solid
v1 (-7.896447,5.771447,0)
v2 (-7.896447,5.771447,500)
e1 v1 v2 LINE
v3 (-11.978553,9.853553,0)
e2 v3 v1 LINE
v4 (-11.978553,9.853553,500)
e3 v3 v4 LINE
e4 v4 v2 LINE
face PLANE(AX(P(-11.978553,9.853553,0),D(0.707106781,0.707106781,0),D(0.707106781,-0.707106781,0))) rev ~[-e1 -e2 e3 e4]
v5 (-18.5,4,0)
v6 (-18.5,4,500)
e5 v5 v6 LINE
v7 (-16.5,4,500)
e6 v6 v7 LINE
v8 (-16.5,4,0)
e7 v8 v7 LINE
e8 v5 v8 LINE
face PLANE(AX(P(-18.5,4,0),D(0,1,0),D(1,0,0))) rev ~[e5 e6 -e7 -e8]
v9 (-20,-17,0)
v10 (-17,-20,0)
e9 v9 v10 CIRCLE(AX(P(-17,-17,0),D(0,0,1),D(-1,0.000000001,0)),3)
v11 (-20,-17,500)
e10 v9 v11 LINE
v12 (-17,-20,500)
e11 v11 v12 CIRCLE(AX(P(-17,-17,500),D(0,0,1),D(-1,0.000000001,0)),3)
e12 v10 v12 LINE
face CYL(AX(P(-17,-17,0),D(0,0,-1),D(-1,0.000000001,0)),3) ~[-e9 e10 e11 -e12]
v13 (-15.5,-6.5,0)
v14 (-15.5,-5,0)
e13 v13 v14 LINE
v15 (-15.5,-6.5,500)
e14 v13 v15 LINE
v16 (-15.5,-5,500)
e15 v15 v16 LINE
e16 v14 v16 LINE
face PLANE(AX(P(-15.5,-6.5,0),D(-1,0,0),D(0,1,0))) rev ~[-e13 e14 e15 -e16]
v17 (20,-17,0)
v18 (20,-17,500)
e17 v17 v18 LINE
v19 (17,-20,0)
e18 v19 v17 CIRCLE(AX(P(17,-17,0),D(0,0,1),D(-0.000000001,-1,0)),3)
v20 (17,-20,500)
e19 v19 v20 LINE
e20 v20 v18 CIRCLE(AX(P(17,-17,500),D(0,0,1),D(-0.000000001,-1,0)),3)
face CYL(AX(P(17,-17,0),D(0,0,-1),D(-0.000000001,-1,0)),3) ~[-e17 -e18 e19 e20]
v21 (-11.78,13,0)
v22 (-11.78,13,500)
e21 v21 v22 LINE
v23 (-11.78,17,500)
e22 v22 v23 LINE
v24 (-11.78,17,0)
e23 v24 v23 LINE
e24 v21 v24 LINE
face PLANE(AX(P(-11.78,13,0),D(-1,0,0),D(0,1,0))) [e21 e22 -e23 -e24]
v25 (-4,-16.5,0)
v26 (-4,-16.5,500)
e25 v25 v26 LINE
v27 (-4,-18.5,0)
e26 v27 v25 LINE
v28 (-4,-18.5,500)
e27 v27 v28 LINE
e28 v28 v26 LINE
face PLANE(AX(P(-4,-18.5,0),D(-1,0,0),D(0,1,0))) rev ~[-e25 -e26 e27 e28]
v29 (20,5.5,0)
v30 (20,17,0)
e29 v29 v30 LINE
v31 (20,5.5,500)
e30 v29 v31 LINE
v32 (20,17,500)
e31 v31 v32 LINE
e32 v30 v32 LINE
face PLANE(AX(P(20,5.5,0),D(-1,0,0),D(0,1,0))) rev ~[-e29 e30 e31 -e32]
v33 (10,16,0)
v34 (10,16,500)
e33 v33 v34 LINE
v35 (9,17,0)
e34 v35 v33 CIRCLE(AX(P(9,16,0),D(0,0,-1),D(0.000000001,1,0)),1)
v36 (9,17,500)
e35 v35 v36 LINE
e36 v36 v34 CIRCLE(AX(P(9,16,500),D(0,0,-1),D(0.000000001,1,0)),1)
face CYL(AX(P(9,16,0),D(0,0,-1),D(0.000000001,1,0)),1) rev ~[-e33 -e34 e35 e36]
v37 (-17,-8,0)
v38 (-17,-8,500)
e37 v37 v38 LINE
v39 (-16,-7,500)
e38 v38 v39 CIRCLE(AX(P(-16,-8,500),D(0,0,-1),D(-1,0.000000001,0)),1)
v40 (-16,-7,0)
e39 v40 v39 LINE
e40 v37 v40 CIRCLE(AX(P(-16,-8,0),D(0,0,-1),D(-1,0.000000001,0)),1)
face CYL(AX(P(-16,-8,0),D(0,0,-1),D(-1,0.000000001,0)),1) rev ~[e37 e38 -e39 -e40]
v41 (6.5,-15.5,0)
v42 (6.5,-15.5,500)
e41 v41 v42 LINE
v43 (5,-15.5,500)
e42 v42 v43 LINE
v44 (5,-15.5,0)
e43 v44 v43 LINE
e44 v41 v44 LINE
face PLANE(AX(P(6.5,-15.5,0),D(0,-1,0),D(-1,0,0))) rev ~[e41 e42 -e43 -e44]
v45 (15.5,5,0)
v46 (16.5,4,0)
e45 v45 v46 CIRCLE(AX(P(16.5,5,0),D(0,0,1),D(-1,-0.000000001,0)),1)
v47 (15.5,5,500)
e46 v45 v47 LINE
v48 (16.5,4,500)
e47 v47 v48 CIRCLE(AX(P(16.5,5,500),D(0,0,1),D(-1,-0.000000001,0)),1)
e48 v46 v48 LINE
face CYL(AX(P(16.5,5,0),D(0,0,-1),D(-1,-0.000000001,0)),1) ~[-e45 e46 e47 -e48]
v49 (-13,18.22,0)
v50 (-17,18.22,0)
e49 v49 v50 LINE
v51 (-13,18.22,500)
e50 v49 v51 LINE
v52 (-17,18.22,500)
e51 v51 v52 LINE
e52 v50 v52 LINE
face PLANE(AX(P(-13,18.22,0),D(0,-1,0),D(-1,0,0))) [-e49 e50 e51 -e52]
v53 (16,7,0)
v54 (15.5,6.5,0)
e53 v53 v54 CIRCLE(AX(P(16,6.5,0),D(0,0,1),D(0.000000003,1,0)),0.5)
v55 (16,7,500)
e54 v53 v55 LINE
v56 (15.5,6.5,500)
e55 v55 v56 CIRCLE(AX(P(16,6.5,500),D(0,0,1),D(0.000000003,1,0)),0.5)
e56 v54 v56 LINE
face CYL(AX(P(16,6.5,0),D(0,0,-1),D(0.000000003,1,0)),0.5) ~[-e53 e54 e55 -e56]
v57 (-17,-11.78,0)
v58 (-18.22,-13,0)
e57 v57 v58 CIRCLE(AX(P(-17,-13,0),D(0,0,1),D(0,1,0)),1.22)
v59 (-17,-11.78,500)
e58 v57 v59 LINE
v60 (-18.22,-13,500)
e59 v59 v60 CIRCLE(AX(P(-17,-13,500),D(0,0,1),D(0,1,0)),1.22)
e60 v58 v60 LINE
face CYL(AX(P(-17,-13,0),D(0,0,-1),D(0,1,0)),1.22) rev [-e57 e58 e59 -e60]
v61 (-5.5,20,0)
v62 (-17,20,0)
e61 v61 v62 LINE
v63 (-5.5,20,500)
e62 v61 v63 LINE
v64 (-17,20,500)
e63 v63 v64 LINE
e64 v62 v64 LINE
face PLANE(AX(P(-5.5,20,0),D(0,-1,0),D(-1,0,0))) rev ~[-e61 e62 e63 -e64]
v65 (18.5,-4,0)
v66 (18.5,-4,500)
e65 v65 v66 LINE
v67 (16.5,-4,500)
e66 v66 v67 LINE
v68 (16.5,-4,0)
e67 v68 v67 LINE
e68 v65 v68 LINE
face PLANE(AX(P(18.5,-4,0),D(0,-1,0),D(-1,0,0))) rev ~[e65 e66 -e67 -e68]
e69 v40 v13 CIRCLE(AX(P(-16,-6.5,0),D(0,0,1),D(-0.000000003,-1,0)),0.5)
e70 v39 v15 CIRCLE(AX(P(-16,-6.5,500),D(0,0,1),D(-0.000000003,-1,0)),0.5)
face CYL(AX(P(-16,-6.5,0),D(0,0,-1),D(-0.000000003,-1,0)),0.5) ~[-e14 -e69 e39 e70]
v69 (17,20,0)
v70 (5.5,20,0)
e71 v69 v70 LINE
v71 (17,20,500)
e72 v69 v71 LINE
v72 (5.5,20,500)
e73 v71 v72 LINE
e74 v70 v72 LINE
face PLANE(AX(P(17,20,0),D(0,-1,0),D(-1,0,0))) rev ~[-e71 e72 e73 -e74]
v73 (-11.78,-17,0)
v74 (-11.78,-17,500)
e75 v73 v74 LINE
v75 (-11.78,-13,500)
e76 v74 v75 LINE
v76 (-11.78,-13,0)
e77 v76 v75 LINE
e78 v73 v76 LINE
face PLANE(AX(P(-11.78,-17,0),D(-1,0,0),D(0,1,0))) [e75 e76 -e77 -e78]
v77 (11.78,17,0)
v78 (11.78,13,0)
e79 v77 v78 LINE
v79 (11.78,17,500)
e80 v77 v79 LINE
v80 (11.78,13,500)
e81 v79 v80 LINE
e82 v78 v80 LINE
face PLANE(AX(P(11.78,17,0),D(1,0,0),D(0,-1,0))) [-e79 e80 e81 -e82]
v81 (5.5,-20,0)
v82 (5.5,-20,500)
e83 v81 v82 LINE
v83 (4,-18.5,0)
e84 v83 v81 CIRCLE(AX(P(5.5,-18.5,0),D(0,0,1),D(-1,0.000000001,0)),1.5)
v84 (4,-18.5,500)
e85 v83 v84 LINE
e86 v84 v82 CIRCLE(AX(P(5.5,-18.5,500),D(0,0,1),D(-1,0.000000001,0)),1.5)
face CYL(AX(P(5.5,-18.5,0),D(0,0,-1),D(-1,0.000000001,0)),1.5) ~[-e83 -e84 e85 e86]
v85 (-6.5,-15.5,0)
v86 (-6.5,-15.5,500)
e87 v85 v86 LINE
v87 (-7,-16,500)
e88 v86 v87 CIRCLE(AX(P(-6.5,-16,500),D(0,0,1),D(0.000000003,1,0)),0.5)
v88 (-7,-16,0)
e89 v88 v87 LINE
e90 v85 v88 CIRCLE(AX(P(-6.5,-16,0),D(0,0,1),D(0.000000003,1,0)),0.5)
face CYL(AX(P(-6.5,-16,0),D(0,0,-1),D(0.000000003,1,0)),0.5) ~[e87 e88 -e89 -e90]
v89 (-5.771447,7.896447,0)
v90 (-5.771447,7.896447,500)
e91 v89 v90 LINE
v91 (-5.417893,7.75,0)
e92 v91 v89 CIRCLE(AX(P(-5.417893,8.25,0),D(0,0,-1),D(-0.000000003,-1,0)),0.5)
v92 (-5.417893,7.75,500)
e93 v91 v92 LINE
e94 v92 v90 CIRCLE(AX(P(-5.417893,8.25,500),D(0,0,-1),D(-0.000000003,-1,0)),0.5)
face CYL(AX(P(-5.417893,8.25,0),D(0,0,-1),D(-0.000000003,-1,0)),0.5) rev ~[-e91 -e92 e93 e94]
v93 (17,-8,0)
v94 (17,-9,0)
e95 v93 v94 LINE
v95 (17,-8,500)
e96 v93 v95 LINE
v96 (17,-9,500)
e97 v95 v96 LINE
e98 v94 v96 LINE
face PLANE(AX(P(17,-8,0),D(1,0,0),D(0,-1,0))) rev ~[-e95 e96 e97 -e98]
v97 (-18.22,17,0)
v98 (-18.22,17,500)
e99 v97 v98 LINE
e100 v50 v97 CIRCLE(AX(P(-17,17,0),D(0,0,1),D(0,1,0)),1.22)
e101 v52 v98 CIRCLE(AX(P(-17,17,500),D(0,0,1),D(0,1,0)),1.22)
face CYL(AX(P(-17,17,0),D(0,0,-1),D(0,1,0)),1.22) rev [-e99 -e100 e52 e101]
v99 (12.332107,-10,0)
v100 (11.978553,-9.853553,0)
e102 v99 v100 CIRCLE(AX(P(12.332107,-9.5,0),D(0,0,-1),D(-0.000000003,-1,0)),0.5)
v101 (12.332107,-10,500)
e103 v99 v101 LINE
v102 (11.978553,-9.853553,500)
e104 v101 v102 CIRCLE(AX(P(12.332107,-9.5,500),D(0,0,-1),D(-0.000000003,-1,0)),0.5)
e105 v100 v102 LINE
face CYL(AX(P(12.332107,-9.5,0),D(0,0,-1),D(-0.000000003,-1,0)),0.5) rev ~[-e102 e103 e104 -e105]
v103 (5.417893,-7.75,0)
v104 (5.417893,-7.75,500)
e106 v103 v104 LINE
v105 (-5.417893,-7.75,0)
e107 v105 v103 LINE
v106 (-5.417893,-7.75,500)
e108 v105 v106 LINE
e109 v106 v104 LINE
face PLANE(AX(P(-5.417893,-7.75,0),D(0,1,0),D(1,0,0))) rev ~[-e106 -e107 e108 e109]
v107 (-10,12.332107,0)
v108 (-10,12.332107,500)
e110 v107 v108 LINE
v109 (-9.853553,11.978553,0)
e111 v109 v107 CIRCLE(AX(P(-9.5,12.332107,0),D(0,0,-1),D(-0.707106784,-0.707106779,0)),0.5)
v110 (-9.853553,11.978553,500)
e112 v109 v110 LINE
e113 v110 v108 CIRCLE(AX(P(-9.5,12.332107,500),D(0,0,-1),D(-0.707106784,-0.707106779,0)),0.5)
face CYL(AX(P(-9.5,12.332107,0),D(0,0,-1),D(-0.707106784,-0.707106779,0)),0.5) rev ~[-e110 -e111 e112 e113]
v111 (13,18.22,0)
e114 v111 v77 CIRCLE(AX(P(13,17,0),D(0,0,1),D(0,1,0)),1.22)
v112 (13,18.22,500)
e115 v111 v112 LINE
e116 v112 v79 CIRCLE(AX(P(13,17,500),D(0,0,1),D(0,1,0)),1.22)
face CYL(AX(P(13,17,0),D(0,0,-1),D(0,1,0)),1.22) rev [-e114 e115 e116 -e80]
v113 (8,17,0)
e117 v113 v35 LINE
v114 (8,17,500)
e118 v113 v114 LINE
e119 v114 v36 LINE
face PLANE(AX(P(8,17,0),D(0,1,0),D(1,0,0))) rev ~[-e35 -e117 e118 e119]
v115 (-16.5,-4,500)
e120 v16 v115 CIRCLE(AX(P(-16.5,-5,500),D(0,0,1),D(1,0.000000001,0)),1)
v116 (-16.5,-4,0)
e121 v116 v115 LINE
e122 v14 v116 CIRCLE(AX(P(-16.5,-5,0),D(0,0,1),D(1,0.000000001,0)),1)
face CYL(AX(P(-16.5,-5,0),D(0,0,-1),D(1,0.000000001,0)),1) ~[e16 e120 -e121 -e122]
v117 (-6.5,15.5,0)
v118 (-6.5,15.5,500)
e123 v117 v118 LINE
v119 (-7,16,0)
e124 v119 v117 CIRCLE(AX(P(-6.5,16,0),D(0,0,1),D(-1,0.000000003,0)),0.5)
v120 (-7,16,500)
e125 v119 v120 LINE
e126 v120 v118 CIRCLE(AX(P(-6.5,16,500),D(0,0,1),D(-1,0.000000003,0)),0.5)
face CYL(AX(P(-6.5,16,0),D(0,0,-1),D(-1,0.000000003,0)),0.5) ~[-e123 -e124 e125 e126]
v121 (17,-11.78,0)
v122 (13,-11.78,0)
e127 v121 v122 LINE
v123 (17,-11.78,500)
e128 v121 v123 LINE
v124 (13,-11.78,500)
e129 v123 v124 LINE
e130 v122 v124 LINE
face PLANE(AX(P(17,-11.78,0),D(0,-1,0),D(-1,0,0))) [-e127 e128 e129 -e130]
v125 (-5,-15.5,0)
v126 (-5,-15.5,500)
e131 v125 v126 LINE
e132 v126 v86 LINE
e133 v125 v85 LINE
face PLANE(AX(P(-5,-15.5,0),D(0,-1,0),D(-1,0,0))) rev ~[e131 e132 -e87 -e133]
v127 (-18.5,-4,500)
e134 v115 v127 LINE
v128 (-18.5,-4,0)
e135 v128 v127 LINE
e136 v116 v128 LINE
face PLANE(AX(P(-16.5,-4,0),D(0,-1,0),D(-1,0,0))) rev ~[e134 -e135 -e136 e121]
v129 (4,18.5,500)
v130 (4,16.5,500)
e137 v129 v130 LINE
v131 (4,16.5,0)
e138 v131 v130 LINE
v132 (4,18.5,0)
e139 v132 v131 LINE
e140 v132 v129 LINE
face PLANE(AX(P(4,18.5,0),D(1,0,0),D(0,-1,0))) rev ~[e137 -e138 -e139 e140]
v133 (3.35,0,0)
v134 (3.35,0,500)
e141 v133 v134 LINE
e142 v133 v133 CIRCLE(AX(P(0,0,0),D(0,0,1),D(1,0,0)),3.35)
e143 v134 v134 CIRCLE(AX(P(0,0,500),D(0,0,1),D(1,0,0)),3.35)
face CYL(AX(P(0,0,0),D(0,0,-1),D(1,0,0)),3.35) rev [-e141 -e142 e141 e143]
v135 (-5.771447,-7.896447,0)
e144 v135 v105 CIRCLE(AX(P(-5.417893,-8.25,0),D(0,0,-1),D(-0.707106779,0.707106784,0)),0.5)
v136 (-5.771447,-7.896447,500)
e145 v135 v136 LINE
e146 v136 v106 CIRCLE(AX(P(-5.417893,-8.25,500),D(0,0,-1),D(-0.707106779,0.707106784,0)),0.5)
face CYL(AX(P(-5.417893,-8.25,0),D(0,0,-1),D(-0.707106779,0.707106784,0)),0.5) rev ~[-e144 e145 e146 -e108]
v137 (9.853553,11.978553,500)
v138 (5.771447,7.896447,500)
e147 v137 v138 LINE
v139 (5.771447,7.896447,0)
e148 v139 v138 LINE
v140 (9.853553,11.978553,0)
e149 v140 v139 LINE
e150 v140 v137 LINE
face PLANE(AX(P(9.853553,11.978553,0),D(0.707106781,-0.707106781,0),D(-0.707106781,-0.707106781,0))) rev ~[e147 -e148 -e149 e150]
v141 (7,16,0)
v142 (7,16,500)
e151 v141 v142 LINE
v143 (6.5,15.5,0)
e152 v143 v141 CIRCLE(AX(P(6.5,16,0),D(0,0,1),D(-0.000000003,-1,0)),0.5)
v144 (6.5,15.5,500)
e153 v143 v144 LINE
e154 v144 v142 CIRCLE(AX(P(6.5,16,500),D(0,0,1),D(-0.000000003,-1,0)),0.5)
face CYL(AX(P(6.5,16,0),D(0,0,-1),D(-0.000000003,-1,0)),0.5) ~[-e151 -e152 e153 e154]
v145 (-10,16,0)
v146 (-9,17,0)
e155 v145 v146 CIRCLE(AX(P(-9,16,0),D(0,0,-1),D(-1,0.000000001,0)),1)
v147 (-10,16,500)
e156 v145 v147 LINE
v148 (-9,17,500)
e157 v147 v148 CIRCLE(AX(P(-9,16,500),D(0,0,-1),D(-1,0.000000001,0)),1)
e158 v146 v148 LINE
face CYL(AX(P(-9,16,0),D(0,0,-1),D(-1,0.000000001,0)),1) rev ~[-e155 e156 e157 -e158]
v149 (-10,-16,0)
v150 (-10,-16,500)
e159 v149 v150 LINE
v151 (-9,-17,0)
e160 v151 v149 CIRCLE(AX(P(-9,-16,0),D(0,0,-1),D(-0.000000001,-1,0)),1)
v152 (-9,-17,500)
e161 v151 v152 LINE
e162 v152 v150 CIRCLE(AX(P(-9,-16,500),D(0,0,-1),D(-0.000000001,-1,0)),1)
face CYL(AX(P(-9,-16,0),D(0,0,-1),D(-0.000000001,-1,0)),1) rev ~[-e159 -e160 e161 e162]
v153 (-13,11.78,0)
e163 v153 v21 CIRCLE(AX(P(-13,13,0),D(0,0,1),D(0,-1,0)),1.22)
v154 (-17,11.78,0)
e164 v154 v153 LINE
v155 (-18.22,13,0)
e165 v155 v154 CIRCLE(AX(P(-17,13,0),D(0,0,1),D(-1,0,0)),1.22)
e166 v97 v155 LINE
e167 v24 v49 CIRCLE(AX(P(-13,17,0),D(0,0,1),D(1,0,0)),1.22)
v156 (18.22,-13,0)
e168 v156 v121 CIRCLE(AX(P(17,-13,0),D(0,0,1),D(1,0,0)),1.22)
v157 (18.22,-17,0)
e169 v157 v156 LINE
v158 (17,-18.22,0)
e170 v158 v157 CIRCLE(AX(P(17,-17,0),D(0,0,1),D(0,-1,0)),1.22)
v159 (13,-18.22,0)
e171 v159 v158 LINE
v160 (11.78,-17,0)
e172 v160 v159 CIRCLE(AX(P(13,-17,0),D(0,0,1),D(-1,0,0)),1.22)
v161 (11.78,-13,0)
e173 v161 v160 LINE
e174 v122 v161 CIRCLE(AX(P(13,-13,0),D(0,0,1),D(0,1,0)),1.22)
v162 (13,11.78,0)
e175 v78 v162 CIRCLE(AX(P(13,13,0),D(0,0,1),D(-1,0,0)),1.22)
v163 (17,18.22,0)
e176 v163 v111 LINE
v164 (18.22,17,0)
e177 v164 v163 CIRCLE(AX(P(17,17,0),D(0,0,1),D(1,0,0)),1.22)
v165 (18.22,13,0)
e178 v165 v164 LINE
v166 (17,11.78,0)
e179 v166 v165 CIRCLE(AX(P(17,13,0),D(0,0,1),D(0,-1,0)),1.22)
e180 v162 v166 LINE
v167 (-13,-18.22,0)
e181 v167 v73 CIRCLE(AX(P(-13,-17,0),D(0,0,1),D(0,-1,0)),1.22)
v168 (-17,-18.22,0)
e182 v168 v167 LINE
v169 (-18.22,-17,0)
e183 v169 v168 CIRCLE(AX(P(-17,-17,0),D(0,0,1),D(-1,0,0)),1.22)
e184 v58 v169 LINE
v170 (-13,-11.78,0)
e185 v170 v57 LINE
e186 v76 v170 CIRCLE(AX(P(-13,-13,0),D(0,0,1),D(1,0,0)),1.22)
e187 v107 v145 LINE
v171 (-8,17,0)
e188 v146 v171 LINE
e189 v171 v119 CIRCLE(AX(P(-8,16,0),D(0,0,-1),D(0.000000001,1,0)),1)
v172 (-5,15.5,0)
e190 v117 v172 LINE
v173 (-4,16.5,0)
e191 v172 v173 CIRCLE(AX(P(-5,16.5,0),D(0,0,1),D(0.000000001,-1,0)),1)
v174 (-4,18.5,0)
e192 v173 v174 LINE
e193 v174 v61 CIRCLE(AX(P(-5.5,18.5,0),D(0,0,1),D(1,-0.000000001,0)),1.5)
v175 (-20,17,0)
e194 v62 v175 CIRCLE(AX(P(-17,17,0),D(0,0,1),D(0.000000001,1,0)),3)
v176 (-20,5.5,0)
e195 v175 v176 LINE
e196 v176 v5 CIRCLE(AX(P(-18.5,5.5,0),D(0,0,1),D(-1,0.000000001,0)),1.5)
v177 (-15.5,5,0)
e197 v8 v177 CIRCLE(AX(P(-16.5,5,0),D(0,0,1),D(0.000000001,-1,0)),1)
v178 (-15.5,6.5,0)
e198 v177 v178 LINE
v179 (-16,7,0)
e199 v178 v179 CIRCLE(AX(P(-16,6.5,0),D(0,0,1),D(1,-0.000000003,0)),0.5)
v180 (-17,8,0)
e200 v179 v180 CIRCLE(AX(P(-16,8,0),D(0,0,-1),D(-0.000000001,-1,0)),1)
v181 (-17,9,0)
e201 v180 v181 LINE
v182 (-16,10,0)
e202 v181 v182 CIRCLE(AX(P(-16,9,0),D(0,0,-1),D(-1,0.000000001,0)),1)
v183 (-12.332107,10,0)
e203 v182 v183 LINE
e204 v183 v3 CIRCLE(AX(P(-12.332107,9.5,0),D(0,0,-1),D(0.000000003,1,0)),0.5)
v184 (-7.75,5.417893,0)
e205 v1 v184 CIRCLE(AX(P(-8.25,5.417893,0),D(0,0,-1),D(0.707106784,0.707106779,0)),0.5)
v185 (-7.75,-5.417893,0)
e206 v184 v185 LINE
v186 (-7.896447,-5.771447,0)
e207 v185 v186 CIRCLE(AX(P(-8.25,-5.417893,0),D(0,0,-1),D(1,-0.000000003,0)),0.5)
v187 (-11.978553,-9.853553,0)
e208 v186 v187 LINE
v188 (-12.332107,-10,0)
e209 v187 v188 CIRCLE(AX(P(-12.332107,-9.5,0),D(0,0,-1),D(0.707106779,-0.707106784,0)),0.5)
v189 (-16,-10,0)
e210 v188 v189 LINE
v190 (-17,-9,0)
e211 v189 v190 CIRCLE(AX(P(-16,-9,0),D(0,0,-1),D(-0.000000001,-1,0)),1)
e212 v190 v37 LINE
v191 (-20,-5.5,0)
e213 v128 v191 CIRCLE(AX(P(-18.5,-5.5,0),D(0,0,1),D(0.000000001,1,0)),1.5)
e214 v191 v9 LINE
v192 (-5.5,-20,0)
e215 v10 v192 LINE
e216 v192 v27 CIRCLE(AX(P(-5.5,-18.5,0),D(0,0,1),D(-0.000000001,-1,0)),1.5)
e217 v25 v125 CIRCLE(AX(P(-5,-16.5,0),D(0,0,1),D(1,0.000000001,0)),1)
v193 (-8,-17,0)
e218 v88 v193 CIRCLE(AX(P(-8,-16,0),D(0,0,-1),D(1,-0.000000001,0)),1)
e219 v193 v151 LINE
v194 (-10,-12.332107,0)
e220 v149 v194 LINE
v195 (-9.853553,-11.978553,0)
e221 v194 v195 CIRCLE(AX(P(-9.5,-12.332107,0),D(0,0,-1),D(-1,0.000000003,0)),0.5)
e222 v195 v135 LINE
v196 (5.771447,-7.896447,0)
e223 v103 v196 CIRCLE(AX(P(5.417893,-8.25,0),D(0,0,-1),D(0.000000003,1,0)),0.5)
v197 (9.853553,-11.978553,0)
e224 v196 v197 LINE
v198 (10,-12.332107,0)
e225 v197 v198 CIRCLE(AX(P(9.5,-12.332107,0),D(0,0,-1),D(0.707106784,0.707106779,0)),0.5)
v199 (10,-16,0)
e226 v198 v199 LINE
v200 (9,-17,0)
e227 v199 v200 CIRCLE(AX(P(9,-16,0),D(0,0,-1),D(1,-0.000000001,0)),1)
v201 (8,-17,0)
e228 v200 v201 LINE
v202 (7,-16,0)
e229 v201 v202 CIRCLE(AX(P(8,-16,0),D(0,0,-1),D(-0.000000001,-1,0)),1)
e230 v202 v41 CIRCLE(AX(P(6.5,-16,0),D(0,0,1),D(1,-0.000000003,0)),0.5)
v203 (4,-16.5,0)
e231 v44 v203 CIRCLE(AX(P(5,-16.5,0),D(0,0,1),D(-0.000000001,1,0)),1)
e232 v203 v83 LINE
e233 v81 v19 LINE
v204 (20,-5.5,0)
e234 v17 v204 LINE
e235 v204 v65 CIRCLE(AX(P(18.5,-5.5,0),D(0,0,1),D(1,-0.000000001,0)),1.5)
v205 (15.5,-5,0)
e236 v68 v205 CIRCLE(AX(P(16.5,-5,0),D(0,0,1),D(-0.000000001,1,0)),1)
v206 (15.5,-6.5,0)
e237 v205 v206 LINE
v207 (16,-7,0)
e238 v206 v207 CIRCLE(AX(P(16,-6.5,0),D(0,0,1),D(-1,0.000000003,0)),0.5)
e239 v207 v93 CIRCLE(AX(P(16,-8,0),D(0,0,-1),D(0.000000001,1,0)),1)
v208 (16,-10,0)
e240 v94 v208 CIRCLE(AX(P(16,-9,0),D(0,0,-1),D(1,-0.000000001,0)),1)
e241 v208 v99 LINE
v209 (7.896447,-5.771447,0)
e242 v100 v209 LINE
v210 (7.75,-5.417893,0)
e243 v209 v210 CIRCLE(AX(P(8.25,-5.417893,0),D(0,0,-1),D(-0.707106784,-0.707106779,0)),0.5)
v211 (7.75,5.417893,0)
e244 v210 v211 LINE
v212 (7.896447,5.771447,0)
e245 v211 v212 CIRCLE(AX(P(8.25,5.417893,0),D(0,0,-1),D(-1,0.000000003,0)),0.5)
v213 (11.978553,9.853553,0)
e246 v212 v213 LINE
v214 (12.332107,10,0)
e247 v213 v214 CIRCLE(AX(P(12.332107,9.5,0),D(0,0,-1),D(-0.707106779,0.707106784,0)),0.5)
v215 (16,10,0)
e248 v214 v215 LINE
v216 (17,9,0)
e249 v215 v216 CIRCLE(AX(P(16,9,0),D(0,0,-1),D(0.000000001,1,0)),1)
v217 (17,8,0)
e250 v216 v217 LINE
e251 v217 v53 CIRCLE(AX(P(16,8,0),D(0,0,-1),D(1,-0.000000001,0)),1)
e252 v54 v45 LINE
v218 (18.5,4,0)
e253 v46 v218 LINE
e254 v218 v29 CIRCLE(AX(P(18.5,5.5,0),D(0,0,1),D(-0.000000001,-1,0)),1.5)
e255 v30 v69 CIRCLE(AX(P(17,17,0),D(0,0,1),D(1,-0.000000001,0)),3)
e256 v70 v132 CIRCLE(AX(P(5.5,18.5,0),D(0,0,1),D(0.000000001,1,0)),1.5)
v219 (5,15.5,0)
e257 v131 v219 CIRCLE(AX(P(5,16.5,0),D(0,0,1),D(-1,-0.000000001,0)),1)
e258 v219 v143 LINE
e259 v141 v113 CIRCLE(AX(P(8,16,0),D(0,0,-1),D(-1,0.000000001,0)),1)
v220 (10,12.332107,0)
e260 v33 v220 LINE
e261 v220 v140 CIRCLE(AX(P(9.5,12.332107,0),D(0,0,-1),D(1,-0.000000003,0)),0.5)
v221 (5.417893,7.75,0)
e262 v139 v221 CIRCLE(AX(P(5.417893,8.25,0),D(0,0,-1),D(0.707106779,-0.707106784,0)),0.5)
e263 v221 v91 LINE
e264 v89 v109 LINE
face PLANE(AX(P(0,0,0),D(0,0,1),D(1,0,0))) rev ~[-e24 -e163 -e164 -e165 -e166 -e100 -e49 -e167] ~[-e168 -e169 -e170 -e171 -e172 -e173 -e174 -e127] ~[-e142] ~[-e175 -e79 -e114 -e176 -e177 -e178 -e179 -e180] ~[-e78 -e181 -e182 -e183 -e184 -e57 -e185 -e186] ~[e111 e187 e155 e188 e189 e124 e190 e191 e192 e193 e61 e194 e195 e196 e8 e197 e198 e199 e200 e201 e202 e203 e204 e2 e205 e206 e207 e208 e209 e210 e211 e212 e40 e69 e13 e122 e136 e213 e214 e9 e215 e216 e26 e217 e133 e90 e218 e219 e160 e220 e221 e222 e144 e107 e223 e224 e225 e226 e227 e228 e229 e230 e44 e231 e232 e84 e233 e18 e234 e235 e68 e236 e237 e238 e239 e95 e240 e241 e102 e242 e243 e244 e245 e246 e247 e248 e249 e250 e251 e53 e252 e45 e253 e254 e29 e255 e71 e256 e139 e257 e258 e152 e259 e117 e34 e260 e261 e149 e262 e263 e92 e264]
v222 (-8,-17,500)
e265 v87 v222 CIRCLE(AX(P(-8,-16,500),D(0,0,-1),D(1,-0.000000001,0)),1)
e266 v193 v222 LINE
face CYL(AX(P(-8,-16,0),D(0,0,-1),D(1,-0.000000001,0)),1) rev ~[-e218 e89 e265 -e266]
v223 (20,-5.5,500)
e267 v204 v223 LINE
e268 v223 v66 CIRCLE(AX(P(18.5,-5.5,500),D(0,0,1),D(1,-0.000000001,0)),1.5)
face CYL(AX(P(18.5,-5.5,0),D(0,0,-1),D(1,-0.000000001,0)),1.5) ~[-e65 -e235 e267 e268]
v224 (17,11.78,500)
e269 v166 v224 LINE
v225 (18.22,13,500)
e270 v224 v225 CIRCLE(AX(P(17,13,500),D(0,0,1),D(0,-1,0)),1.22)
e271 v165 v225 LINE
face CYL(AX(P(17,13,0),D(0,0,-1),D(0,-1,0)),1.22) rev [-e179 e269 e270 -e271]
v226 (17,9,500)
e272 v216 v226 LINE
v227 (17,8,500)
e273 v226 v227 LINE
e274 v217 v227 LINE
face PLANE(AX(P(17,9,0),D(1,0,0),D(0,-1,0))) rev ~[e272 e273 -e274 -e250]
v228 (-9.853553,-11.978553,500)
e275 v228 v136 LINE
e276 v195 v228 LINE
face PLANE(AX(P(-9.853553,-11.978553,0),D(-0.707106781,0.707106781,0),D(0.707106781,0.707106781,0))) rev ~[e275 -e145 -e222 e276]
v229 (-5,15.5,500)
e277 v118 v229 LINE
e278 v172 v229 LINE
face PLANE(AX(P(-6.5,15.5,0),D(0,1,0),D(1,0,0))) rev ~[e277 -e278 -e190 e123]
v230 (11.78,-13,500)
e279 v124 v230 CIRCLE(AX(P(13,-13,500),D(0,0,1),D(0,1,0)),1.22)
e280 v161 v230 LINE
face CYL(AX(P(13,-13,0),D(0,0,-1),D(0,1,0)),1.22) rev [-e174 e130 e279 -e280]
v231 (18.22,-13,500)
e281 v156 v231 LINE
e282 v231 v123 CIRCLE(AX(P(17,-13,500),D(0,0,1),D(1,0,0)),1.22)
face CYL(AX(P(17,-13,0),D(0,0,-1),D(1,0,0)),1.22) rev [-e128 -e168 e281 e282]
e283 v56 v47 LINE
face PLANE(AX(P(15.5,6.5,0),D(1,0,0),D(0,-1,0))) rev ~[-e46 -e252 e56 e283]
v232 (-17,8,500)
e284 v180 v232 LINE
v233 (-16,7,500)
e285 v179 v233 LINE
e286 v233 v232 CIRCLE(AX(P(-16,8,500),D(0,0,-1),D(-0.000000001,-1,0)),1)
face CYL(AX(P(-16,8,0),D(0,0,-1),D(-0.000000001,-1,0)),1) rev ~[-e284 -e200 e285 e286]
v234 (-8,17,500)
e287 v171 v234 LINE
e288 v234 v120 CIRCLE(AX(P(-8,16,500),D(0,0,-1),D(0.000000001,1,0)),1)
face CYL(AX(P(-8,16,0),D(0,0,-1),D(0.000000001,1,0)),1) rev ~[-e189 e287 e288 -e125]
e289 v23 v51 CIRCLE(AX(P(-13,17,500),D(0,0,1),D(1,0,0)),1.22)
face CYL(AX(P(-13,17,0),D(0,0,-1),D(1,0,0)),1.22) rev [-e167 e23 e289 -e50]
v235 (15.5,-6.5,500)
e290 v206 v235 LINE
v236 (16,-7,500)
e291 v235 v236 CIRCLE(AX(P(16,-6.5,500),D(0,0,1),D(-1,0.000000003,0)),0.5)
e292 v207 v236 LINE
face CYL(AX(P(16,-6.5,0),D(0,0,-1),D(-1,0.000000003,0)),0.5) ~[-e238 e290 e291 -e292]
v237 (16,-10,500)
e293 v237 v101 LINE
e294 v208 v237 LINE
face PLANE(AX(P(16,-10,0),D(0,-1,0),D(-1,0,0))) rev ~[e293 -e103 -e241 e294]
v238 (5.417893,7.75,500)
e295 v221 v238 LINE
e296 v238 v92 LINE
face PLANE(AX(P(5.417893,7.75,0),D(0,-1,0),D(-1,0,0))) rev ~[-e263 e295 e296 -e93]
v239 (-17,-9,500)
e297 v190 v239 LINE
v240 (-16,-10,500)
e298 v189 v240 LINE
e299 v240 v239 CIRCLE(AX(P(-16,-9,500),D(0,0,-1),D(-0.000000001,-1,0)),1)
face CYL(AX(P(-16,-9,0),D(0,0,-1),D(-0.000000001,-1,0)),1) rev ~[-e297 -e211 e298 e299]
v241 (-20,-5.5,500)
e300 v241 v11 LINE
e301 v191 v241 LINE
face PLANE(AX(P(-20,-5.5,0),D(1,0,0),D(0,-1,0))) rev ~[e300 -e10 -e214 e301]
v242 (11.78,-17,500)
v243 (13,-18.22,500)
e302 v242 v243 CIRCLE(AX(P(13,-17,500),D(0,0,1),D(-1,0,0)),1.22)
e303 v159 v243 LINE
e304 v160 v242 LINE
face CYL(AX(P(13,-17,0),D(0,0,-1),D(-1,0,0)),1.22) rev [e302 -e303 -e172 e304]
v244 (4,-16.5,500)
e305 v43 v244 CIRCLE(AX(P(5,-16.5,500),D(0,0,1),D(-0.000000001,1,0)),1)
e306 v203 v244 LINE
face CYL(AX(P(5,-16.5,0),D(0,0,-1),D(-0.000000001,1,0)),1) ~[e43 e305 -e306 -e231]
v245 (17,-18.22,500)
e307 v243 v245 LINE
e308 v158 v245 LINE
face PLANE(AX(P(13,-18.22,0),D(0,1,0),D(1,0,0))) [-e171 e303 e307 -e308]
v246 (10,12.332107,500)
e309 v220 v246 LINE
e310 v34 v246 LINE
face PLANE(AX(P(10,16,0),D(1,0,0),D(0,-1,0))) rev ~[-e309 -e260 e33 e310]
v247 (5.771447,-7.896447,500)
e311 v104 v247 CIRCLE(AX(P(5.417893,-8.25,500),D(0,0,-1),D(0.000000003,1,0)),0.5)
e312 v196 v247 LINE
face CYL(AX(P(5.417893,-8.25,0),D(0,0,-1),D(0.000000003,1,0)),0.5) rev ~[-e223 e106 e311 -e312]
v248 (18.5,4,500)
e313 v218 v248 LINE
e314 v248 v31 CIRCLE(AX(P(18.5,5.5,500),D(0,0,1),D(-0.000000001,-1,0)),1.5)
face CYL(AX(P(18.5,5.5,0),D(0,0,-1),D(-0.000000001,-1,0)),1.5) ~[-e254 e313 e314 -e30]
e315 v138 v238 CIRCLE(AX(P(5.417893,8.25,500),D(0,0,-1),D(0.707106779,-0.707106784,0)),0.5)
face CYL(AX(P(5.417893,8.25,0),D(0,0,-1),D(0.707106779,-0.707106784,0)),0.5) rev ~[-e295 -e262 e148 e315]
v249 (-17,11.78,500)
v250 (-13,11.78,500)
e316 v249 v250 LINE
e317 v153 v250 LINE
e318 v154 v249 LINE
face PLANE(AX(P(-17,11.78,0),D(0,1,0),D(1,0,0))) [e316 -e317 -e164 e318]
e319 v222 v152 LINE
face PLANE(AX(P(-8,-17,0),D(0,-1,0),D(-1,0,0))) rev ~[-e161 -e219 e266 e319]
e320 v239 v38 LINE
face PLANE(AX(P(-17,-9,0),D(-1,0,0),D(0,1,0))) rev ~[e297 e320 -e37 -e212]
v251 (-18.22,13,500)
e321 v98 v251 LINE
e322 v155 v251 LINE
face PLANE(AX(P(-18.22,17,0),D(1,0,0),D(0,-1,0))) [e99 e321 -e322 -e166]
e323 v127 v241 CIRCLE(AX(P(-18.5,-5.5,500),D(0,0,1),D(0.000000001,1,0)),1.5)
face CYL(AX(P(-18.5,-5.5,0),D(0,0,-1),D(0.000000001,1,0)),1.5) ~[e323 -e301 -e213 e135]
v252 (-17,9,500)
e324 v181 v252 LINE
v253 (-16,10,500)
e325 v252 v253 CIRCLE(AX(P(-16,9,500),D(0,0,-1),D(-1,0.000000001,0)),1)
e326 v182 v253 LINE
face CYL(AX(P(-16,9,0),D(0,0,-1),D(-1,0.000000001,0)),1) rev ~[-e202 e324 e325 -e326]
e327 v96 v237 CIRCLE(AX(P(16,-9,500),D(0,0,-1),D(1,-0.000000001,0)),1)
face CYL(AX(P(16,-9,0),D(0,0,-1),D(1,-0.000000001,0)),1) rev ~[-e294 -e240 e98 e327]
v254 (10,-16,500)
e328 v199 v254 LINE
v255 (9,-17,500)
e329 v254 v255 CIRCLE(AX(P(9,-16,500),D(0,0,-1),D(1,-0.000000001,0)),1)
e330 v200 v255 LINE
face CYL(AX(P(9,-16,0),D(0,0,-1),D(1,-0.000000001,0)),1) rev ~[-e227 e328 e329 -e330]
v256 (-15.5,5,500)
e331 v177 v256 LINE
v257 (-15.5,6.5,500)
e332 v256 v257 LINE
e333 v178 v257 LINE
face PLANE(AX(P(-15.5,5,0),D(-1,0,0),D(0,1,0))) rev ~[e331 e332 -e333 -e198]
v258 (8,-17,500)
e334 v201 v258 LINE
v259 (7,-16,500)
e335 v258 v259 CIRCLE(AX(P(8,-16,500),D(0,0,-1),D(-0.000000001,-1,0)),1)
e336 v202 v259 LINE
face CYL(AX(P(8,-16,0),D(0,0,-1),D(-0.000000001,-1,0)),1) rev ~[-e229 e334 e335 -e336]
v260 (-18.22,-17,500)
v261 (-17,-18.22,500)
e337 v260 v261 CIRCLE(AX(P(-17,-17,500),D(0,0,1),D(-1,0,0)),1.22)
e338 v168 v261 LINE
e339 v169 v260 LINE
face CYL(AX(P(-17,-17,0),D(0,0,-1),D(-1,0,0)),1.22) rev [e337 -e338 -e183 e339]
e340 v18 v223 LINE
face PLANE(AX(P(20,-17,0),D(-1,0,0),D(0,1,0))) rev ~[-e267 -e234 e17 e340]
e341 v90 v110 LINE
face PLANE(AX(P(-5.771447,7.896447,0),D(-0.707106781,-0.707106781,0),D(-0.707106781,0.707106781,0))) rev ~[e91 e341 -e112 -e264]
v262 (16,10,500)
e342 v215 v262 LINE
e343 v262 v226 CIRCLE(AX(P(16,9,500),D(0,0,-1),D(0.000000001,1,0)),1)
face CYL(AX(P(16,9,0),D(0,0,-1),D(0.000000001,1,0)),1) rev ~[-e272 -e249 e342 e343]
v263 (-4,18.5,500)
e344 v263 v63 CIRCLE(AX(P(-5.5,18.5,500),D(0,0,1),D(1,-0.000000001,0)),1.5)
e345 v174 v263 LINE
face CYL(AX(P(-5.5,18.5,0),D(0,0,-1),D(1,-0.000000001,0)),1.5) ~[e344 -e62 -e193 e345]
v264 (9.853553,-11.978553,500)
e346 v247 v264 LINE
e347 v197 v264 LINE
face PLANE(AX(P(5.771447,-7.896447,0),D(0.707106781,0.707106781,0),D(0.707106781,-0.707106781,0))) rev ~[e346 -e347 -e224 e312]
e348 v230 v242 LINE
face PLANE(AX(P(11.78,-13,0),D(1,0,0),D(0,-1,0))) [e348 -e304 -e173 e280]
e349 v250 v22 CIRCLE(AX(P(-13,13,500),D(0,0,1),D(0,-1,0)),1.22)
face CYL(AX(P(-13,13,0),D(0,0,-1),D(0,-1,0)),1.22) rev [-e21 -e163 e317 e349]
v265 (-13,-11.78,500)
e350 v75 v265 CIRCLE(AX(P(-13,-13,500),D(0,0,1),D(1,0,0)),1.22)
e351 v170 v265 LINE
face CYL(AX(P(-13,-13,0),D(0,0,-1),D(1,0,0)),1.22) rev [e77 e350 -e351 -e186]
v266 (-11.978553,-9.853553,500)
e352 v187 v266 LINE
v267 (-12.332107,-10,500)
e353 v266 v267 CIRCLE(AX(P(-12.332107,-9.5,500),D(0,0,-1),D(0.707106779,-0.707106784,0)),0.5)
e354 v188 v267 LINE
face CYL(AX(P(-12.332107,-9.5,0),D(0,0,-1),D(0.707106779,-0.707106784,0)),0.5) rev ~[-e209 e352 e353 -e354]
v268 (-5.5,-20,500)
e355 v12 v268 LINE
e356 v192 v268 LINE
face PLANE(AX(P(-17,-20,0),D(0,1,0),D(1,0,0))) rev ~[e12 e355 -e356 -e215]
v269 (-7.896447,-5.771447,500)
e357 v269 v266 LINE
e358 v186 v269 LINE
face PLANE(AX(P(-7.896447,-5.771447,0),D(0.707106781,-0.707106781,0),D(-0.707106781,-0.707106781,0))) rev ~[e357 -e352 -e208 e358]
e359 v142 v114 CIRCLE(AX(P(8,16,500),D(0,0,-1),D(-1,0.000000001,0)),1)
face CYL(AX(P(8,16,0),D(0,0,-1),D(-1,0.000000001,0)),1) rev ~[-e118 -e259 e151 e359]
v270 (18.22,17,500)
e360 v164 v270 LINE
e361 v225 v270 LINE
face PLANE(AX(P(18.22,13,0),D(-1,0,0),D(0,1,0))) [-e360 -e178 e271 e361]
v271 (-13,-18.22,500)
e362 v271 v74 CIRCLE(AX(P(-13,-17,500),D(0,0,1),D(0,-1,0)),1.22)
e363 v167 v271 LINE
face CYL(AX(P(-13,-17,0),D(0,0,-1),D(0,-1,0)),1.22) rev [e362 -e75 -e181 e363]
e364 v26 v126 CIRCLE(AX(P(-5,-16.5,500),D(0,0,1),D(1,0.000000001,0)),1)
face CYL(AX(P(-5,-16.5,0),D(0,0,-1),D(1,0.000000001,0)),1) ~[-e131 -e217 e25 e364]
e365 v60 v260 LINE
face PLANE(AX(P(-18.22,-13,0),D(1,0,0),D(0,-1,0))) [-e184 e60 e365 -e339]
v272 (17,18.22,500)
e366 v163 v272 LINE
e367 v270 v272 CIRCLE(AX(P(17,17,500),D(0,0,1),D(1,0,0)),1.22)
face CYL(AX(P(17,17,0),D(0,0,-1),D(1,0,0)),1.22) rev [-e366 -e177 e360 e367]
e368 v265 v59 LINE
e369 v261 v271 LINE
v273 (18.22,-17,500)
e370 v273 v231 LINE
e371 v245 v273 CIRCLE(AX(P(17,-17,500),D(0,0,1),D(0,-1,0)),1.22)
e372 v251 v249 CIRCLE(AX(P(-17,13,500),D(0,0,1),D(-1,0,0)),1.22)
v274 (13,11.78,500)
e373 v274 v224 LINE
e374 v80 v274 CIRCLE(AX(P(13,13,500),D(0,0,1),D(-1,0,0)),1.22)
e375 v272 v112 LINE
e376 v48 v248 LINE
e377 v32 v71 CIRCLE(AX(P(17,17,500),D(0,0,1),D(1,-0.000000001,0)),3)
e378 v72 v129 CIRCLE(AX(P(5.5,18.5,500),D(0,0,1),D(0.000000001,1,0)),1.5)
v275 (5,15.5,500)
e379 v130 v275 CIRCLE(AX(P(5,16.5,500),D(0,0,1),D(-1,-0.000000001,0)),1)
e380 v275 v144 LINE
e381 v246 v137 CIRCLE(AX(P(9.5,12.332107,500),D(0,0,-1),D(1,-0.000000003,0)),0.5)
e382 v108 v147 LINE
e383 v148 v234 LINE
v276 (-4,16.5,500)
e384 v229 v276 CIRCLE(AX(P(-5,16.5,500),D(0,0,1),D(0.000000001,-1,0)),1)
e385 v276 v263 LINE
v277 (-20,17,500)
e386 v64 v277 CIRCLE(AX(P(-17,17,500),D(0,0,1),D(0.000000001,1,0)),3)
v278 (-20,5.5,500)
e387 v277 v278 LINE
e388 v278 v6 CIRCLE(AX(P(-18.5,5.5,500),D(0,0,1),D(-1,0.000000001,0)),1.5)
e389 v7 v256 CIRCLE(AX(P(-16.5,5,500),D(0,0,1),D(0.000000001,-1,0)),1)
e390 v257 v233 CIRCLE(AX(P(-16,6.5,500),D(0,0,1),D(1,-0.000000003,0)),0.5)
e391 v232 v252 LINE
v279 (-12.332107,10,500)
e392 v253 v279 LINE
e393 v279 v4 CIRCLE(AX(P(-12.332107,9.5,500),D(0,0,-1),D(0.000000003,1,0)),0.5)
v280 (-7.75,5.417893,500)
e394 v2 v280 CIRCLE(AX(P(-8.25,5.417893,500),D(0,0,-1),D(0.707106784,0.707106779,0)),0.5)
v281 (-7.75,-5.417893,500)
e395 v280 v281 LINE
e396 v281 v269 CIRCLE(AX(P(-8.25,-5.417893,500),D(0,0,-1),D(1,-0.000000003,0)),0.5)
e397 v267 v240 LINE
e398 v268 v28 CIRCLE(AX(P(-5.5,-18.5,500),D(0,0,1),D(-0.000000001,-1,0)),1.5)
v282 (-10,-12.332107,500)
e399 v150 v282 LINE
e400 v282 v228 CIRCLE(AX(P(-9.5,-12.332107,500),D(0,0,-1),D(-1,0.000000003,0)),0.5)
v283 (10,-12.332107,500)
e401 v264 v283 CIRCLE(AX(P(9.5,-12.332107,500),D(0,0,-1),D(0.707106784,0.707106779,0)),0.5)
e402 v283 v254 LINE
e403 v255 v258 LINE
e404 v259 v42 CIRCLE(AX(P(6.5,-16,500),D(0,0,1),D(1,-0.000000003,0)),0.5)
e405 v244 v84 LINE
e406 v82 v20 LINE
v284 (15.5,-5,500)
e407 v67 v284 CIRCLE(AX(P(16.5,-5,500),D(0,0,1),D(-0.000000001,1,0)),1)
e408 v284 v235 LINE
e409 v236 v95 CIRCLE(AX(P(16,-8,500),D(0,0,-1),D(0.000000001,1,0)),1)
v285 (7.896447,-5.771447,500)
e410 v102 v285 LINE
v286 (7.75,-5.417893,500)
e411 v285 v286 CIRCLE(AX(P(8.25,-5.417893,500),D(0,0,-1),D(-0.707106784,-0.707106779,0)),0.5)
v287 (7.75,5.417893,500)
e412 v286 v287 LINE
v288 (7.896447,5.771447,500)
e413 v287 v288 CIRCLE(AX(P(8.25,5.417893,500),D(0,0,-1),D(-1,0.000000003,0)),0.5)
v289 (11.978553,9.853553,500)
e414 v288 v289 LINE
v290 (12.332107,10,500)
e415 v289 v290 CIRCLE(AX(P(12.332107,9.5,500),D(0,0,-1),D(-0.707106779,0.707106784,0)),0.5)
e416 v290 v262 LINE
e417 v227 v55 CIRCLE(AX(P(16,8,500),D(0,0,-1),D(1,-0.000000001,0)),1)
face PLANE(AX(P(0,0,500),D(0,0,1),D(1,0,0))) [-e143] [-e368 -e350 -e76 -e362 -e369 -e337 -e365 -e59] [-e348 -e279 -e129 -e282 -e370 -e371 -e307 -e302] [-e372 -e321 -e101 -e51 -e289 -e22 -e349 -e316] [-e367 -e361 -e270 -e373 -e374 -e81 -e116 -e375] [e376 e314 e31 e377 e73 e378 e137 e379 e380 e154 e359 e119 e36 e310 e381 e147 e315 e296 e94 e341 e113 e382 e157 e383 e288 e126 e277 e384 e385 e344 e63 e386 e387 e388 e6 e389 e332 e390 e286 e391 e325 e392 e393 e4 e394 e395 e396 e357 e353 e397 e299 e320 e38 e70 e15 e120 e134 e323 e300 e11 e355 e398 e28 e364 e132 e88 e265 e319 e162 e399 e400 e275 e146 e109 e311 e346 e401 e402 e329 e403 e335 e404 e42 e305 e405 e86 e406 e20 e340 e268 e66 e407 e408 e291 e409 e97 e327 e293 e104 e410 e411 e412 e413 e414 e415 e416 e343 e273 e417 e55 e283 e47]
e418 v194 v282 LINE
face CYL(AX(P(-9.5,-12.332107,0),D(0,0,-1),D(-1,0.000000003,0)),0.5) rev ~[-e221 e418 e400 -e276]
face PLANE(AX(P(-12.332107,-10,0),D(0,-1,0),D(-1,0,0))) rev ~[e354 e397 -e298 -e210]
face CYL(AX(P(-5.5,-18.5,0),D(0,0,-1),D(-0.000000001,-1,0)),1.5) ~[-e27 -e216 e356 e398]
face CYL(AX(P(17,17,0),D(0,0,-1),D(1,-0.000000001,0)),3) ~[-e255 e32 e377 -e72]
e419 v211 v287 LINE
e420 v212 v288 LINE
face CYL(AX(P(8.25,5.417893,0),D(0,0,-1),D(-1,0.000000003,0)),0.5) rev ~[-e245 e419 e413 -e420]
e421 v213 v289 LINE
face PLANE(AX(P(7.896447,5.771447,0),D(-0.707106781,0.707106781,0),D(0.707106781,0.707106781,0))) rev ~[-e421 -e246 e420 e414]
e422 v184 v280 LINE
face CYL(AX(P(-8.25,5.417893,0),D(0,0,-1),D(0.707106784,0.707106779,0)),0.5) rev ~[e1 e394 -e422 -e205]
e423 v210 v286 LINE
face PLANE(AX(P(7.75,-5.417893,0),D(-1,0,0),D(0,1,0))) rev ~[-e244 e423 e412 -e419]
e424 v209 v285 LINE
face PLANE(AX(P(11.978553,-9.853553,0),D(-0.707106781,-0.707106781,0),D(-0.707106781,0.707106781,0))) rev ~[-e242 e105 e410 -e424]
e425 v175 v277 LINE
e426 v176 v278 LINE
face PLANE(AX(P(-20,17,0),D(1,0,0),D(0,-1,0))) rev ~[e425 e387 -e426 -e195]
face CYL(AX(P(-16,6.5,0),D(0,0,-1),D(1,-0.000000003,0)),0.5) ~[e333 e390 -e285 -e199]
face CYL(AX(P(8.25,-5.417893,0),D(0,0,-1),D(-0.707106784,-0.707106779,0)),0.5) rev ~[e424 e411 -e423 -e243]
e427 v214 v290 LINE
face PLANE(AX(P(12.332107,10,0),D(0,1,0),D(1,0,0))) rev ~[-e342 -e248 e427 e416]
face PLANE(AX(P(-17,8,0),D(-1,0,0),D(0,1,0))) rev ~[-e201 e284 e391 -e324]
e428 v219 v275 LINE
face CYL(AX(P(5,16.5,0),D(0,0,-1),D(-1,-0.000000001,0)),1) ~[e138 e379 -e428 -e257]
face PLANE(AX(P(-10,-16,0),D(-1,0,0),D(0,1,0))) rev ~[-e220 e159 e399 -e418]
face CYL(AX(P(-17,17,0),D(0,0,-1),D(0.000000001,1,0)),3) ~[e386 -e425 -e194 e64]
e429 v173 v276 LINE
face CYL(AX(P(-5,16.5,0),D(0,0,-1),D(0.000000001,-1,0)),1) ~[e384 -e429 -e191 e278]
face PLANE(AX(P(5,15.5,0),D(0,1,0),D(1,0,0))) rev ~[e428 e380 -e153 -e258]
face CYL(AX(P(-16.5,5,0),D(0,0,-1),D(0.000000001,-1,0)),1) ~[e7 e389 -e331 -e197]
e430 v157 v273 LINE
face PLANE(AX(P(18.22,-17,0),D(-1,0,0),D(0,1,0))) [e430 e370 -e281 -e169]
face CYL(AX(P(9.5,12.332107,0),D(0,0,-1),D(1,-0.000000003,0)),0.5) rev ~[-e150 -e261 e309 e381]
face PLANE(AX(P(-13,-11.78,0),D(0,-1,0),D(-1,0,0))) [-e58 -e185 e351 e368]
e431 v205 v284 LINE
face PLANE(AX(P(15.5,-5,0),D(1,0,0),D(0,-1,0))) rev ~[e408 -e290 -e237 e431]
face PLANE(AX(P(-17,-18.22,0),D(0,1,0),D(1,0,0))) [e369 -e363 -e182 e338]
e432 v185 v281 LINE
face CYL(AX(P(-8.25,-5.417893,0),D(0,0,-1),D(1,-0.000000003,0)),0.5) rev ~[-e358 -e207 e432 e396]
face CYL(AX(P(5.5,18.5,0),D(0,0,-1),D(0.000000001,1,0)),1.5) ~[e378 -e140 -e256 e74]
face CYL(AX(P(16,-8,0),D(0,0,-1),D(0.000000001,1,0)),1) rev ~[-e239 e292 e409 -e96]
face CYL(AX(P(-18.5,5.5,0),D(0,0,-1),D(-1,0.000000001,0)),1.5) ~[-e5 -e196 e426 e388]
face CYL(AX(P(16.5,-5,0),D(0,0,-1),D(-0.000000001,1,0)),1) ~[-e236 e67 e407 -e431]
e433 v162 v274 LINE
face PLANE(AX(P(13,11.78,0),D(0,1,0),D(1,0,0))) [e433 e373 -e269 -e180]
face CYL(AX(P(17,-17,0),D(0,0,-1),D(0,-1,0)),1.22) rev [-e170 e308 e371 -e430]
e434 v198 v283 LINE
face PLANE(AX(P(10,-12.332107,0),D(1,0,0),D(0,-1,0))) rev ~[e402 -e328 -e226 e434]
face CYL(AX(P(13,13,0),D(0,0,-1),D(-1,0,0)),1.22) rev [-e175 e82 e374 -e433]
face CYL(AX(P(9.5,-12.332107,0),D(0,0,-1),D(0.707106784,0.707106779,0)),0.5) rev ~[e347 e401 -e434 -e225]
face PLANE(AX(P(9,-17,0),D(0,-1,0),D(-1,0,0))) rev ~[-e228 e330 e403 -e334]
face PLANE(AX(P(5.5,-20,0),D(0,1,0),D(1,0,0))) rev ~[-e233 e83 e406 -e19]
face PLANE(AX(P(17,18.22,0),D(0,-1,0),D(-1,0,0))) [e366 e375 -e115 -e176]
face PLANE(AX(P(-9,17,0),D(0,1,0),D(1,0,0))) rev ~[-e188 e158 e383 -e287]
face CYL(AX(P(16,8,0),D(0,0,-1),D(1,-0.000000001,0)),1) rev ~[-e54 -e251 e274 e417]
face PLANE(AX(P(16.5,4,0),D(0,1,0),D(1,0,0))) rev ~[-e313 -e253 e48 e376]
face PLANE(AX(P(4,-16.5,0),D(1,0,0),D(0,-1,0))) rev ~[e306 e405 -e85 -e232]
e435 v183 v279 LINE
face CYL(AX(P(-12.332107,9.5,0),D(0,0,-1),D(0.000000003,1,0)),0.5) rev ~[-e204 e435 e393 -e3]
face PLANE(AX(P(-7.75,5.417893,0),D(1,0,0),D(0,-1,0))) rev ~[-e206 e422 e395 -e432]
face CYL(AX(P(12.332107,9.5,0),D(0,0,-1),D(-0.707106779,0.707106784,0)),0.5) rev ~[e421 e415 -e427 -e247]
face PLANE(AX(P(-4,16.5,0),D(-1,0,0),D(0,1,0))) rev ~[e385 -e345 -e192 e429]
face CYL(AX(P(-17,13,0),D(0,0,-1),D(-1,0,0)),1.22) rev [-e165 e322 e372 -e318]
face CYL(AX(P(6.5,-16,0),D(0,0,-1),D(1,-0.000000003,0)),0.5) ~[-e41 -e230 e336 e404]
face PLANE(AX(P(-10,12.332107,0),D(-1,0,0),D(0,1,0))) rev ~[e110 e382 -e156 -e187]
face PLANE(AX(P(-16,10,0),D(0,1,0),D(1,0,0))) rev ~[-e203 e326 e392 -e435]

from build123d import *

# Parameters (mm, degrees)
SKETCH1_R           = 3.35
BOSS_EXTRUDE1_DEPTH = 500


with BuildPart() as part:
    # Sketch1 → Boss-Extrude1 (new body)
    with BuildSketch(Plane.XY):
        with BuildLine():
            Line((-9.853553391, -11.978553391), (-5.771446609, -7.896446609))
            ThreePointArc((-5.771446609, -7.896446609), (-5.609234935, -7.788060234), (-5.417893219, -7.75))
            Line((-5.417893219, -7.75), (5.417893219, -7.75))
            ThreePointArc((5.417893219, -7.75), (5.609234935, -7.788060234), (5.771446609, -7.896446609))
            Line((5.771446609, -7.896446609), (9.853553391, -11.978553391))
            ThreePointArc((9.853553391, -11.978553391), (9.961939766, -12.140765065), (10, -12.332106781))
            Line((10, -12.332106781), (10, -16))
            ThreePointArc((10, -16), (9.707106781, -16.707106781), (9, -17))
            Line((9, -17), (8, -17))
            ThreePointArc((8, -17), (7.292893219, -16.707106781), (7, -16))
            ThreePointArc((7, -16), (6.853553391, -15.646446609), (6.5, -15.5))
            Line((6.5, -15.5), (5, -15.5))
            ThreePointArc((5, -15.5), (4.292893219, -15.792893219), (4, -16.5))
            Line((4, -16.5), (4, -18.5))
            ThreePointArc((4, -18.5), (4.439339828, -19.560660172), (5.5, -20))
            Line((5.5, -20), (17, -20))
            ThreePointArc((17, -20), (19.121320344, -19.121320344), (20, -17))
            Line((20, -17), (20, -5.5))
            ThreePointArc((20, -5.5), (19.560660172, -4.439339828), (18.5, -4))
            Line((18.5, -4), (16.5, -4))
            ThreePointArc((16.5, -4), (15.792893219, -4.292893219), (15.5, -5))
            Line((15.5, -5), (15.5, -6.5))
            ThreePointArc((15.5, -6.5), (15.646446609, -6.853553391), (16, -7))
            ThreePointArc((16, -7), (16.707106781, -7.292893219), (17, -8))
            Line((17, -8), (17, -9))
            ThreePointArc((17, -9), (16.707106781, -9.707106781), (16, -10))
            Line((16, -10), (12.332106781, -10))
            ThreePointArc((12.332106781, -10), (12.140765065, -9.961939766), (11.978553391, -9.853553391))
            Line((11.978553391, -9.853553391), (7.896446609, -5.771446609))
            ThreePointArc((7.896446609, -5.771446609), (7.788060234, -5.609234935), (7.75, -5.417893219))
            Line((7.75, -5.417893219), (7.75, 5.417893219))
            ThreePointArc((7.75, 5.417893219), (7.788060234, 5.609234935), (7.896446609, 5.771446609))
            Line((7.896446609, 5.771446609), (11.978553391, 9.853553391))
            ThreePointArc((11.978553391, 9.853553391), (12.140765065, 9.961939766), (12.332106781, 10))
            Line((12.332106781, 10), (16, 10))
            ThreePointArc((16, 10), (16.707106781, 9.707106781), (17, 9))
            Line((17, 9), (17, 8))
            ThreePointArc((17, 8), (16.707106781, 7.292893219), (16, 7))
            ThreePointArc((16, 7), (15.646446609, 6.853553391), (15.5, 6.5))
            Line((15.5, 6.5), (15.5, 5))
            ThreePointArc((15.5, 5), (15.792893219, 4.292893219), (16.5, 4))
            Line((16.5, 4), (18.5, 4))
            ThreePointArc((18.5, 4), (19.560660172, 4.439339828), (20, 5.5))
            Line((20, 5.5), (20, 17))
            ThreePointArc((20, 17), (19.121320344, 19.121320344), (17, 20))
            Line((17, 20), (5.5, 20))
            ThreePointArc((5.5, 20), (4.439339828, 19.560660172), (4, 18.5))
            Line((4, 18.5), (4, 16.5))
            ThreePointArc((4, 16.5), (4.292893219, 15.792893219), (5, 15.5))
            Line((5, 15.5), (6.5, 15.5))
            ThreePointArc((6.5, 15.5), (6.853553391, 15.646446609), (7, 16))
            ThreePointArc((7, 16), (7.292893219, 16.707106781), (8, 17))
            Line((8, 17), (9, 17))
            ThreePointArc((9, 17), (9.707106781, 16.707106781), (10, 16))
            Line((10, 16), (10, 12.332106781))
            ThreePointArc((10, 12.332106781), (9.961939766, 12.140765065), (9.853553391, 11.978553391))
            Line((9.853553391, 11.978553391), (5.771446609, 7.896446609))
            ThreePointArc((5.771446609, 7.896446609), (5.609234935, 7.788060234), (5.417893219, 7.75))
            Line((5.417893219, 7.75), (-5.417893219, 7.75))
            ThreePointArc((-5.417893219, 7.75), (-5.609234935, 7.788060234), (-5.771446609, 7.896446609))
            Line((-5.771446609, 7.896446609), (-9.853553391, 11.978553391))
            ThreePointArc((-9.853553391, 11.978553391), (-9.961939766, 12.140765065), (-10, 12.332106781))
            Line((-10, 12.332106781), (-10, 16))
            ThreePointArc((-10, 16), (-9.707106781, 16.707106781), (-9, 17))
            Line((-9, 17), (-8, 17))
            ThreePointArc((-8, 17), (-7.292893219, 16.707106781), (-7, 16))
            ThreePointArc((-7, 16), (-6.853553391, 15.646446609), (-6.5, 15.5))
            Line((-6.5, 15.5), (-5, 15.5))
            ThreePointArc((-5, 15.5), (-4.292893219, 15.792893219), (-4, 16.5))
            Line((-4, 16.5), (-4, 18.5))
            ThreePointArc((-4, 18.5), (-4.439339828, 19.560660172), (-5.5, 20))
            Line((-5.5, 20), (-17, 20))
            ThreePointArc((-17, 20), (-19.121320344, 19.121320344), (-20, 17))
            Line((-20, 17), (-20, 5.5))
            ThreePointArc((-20, 5.5), (-19.560660172, 4.439339828), (-18.5, 4))
            Line((-18.5, 4), (-16.5, 4))
            ThreePointArc((-16.5, 4), (-15.792893219, 4.292893219), (-15.5, 5))
            Line((-15.5, 5), (-15.5, 6.5))
            ThreePointArc((-15.5, 6.5), (-15.646446609, 6.853553391), (-16, 7))
            ThreePointArc((-16, 7), (-16.707106781, 7.292893219), (-17, 8))
            Line((-17, 8), (-17, 9))
            ThreePointArc((-17, 9), (-16.707106781, 9.707106781), (-16, 10))
            Line((-16, 10), (-12.332106781, 10))
            ThreePointArc((-12.332106781, 10), (-12.140765065, 9.961939766), (-11.978553391, 9.853553391))
            Line((-11.978553391, 9.853553391), (-7.896446609, 5.771446609))
            ThreePointArc((-7.896446609, 5.771446609), (-7.788060234, 5.609234935), (-7.75, 5.417893219))
            Line((-7.75, 5.417893219), (-7.75, -5.417893219))
            ThreePointArc((-7.75, -5.417893219), (-7.788060234, -5.609234935), (-7.896446609, -5.771446609))
            Line((-7.896446609, -5.771446609), (-11.978553391, -9.853553391))
            ThreePointArc((-11.978553391, -9.853553391), (-12.140765065, -9.961939766), (-12.332106781, -10))
            Line((-12.332106781, -10), (-16, -10))
            ThreePointArc((-16, -10), (-16.707106781, -9.707106781), (-17, -9))
            Line((-17, -9), (-17, -8))
            ThreePointArc((-17, -8), (-16.707106781, -7.292893219), (-16, -7))
            ThreePointArc((-16, -7), (-15.646446609, -6.853553391), (-15.5, -6.5))
            Line((-15.5, -6.5), (-15.5, -5))
            ThreePointArc((-15.5, -5), (-15.792893219, -4.292893219), (-16.5, -4))
            Line((-16.5, -4), (-18.5, -4))
            ThreePointArc((-18.5, -4), (-19.560660172, -4.439339828), (-20, -5.5))
            Line((-20, -5.5), (-20, -17))
            ThreePointArc((-20, -17), (-19.121320344, -19.121320344), (-17, -20))
            Line((-17, -20), (-5.5, -20))
            ThreePointArc((-5.5, -20), (-4.439339828, -19.560660172), (-4, -18.5))
            Line((-4, -18.5), (-4, -16.5))
            ThreePointArc((-4, -16.5), (-4.292893219, -15.792893219), (-5, -15.5))
            Line((-5, -15.5), (-6.5, -15.5))
            ThreePointArc((-6.5, -15.5), (-6.853553391, -15.646446609), (-7, -16))
            ThreePointArc((-7, -16), (-7.292893219, -16.707106781), (-8, -17))
            Line((-8, -17), (-9, -17))
            ThreePointArc((-9, -17), (-9.707106781, -16.707106781), (-10, -16))
            Line((-10, -16), (-10, -12.332106781))
            ThreePointArc((-10, -12.332106781), (-9.961939766, -12.140765065), (-9.853553391, -11.978553391))
        make_face()
        Circle(SKETCH1_R, mode=Mode.SUBTRACT)
        with BuildLine():
            Line((-17, 11.78), (-13, 11.78))
            ThreePointArc((-13, 11.78), (-12.137329727, 12.137329727), (-11.78, 13))
            Line((-11.78, 13), (-11.78, 17))
            ThreePointArc((-11.78, 17), (-12.137329727, 17.862670273), (-13, 18.22))
            Line((-13, 18.22), (-17, 18.22))
            ThreePointArc((-17, 18.22), (-17.862670273, 17.862670273), (-18.22, 17))
            Line((-18.22, 17), (-18.22, 13))
            ThreePointArc((-18.22, 13), (-17.862670273, 12.137329727), (-17, 11.78))
        make_face(mode=Mode.SUBTRACT)
        with BuildLine():
            Line((-18.22, -13), (-18.22, -17))
            ThreePointArc((-18.22, -17), (-17.862670273, -17.862670273), (-17, -18.22))
            Line((-17, -18.22), (-13, -18.22))
            ThreePointArc((-13, -18.22), (-12.137329727, -17.862670273), (-11.78, -17))
            Line((-11.78, -17), (-11.78, -13))
            ThreePointArc((-11.78, -13), (-12.137329727, -12.137329727), (-13, -11.78))
            Line((-13, -11.78), (-17, -11.78))
            ThreePointArc((-17, -11.78), (-17.862670273, -12.137329727), (-18.22, -13))
        make_face(mode=Mode.SUBTRACT)
        with BuildLine():
            Line((13, -18.22), (17, -18.22))
            ThreePointArc((17, -18.22), (17.862670273, -17.862670273), (18.22, -17))
            Line((18.22, -17), (18.22, -13))
            ThreePointArc((18.22, -13), (17.862670273, -12.137329727), (17, -11.78))
            Line((17, -11.78), (13, -11.78))
            ThreePointArc((13, -11.78), (12.137329727, -12.137329727), (11.78, -13))
            Line((11.78, -13), (11.78, -17))
            ThreePointArc((11.78, -17), (12.137329727, -17.862670273), (13, -18.22))
        make_face(mode=Mode.SUBTRACT)
        with BuildLine():
            Line((18.22, 13), (18.22, 17))
            ThreePointArc((18.22, 17), (17.862670273, 17.862670273), (17, 18.22))
            Line((17, 18.22), (13, 18.22))
            ThreePointArc((13, 18.22), (12.137329727, 17.862670273), (11.78, 17))
            Line((11.78, 17), (11.78, 13))
            ThreePointArc((11.78, 13), (12.137329727, 12.137329727), (13, 11.78))
            Line((13, 11.78), (17, 11.78))
            ThreePointArc((17, 11.78), (17.862670273, 12.137329727), (18.22, 13))
        make_face(mode=Mode.SUBTRACT)
    extrude(amount=BOSS_EXTRUDE1_DEPTH)


solid = part.part
